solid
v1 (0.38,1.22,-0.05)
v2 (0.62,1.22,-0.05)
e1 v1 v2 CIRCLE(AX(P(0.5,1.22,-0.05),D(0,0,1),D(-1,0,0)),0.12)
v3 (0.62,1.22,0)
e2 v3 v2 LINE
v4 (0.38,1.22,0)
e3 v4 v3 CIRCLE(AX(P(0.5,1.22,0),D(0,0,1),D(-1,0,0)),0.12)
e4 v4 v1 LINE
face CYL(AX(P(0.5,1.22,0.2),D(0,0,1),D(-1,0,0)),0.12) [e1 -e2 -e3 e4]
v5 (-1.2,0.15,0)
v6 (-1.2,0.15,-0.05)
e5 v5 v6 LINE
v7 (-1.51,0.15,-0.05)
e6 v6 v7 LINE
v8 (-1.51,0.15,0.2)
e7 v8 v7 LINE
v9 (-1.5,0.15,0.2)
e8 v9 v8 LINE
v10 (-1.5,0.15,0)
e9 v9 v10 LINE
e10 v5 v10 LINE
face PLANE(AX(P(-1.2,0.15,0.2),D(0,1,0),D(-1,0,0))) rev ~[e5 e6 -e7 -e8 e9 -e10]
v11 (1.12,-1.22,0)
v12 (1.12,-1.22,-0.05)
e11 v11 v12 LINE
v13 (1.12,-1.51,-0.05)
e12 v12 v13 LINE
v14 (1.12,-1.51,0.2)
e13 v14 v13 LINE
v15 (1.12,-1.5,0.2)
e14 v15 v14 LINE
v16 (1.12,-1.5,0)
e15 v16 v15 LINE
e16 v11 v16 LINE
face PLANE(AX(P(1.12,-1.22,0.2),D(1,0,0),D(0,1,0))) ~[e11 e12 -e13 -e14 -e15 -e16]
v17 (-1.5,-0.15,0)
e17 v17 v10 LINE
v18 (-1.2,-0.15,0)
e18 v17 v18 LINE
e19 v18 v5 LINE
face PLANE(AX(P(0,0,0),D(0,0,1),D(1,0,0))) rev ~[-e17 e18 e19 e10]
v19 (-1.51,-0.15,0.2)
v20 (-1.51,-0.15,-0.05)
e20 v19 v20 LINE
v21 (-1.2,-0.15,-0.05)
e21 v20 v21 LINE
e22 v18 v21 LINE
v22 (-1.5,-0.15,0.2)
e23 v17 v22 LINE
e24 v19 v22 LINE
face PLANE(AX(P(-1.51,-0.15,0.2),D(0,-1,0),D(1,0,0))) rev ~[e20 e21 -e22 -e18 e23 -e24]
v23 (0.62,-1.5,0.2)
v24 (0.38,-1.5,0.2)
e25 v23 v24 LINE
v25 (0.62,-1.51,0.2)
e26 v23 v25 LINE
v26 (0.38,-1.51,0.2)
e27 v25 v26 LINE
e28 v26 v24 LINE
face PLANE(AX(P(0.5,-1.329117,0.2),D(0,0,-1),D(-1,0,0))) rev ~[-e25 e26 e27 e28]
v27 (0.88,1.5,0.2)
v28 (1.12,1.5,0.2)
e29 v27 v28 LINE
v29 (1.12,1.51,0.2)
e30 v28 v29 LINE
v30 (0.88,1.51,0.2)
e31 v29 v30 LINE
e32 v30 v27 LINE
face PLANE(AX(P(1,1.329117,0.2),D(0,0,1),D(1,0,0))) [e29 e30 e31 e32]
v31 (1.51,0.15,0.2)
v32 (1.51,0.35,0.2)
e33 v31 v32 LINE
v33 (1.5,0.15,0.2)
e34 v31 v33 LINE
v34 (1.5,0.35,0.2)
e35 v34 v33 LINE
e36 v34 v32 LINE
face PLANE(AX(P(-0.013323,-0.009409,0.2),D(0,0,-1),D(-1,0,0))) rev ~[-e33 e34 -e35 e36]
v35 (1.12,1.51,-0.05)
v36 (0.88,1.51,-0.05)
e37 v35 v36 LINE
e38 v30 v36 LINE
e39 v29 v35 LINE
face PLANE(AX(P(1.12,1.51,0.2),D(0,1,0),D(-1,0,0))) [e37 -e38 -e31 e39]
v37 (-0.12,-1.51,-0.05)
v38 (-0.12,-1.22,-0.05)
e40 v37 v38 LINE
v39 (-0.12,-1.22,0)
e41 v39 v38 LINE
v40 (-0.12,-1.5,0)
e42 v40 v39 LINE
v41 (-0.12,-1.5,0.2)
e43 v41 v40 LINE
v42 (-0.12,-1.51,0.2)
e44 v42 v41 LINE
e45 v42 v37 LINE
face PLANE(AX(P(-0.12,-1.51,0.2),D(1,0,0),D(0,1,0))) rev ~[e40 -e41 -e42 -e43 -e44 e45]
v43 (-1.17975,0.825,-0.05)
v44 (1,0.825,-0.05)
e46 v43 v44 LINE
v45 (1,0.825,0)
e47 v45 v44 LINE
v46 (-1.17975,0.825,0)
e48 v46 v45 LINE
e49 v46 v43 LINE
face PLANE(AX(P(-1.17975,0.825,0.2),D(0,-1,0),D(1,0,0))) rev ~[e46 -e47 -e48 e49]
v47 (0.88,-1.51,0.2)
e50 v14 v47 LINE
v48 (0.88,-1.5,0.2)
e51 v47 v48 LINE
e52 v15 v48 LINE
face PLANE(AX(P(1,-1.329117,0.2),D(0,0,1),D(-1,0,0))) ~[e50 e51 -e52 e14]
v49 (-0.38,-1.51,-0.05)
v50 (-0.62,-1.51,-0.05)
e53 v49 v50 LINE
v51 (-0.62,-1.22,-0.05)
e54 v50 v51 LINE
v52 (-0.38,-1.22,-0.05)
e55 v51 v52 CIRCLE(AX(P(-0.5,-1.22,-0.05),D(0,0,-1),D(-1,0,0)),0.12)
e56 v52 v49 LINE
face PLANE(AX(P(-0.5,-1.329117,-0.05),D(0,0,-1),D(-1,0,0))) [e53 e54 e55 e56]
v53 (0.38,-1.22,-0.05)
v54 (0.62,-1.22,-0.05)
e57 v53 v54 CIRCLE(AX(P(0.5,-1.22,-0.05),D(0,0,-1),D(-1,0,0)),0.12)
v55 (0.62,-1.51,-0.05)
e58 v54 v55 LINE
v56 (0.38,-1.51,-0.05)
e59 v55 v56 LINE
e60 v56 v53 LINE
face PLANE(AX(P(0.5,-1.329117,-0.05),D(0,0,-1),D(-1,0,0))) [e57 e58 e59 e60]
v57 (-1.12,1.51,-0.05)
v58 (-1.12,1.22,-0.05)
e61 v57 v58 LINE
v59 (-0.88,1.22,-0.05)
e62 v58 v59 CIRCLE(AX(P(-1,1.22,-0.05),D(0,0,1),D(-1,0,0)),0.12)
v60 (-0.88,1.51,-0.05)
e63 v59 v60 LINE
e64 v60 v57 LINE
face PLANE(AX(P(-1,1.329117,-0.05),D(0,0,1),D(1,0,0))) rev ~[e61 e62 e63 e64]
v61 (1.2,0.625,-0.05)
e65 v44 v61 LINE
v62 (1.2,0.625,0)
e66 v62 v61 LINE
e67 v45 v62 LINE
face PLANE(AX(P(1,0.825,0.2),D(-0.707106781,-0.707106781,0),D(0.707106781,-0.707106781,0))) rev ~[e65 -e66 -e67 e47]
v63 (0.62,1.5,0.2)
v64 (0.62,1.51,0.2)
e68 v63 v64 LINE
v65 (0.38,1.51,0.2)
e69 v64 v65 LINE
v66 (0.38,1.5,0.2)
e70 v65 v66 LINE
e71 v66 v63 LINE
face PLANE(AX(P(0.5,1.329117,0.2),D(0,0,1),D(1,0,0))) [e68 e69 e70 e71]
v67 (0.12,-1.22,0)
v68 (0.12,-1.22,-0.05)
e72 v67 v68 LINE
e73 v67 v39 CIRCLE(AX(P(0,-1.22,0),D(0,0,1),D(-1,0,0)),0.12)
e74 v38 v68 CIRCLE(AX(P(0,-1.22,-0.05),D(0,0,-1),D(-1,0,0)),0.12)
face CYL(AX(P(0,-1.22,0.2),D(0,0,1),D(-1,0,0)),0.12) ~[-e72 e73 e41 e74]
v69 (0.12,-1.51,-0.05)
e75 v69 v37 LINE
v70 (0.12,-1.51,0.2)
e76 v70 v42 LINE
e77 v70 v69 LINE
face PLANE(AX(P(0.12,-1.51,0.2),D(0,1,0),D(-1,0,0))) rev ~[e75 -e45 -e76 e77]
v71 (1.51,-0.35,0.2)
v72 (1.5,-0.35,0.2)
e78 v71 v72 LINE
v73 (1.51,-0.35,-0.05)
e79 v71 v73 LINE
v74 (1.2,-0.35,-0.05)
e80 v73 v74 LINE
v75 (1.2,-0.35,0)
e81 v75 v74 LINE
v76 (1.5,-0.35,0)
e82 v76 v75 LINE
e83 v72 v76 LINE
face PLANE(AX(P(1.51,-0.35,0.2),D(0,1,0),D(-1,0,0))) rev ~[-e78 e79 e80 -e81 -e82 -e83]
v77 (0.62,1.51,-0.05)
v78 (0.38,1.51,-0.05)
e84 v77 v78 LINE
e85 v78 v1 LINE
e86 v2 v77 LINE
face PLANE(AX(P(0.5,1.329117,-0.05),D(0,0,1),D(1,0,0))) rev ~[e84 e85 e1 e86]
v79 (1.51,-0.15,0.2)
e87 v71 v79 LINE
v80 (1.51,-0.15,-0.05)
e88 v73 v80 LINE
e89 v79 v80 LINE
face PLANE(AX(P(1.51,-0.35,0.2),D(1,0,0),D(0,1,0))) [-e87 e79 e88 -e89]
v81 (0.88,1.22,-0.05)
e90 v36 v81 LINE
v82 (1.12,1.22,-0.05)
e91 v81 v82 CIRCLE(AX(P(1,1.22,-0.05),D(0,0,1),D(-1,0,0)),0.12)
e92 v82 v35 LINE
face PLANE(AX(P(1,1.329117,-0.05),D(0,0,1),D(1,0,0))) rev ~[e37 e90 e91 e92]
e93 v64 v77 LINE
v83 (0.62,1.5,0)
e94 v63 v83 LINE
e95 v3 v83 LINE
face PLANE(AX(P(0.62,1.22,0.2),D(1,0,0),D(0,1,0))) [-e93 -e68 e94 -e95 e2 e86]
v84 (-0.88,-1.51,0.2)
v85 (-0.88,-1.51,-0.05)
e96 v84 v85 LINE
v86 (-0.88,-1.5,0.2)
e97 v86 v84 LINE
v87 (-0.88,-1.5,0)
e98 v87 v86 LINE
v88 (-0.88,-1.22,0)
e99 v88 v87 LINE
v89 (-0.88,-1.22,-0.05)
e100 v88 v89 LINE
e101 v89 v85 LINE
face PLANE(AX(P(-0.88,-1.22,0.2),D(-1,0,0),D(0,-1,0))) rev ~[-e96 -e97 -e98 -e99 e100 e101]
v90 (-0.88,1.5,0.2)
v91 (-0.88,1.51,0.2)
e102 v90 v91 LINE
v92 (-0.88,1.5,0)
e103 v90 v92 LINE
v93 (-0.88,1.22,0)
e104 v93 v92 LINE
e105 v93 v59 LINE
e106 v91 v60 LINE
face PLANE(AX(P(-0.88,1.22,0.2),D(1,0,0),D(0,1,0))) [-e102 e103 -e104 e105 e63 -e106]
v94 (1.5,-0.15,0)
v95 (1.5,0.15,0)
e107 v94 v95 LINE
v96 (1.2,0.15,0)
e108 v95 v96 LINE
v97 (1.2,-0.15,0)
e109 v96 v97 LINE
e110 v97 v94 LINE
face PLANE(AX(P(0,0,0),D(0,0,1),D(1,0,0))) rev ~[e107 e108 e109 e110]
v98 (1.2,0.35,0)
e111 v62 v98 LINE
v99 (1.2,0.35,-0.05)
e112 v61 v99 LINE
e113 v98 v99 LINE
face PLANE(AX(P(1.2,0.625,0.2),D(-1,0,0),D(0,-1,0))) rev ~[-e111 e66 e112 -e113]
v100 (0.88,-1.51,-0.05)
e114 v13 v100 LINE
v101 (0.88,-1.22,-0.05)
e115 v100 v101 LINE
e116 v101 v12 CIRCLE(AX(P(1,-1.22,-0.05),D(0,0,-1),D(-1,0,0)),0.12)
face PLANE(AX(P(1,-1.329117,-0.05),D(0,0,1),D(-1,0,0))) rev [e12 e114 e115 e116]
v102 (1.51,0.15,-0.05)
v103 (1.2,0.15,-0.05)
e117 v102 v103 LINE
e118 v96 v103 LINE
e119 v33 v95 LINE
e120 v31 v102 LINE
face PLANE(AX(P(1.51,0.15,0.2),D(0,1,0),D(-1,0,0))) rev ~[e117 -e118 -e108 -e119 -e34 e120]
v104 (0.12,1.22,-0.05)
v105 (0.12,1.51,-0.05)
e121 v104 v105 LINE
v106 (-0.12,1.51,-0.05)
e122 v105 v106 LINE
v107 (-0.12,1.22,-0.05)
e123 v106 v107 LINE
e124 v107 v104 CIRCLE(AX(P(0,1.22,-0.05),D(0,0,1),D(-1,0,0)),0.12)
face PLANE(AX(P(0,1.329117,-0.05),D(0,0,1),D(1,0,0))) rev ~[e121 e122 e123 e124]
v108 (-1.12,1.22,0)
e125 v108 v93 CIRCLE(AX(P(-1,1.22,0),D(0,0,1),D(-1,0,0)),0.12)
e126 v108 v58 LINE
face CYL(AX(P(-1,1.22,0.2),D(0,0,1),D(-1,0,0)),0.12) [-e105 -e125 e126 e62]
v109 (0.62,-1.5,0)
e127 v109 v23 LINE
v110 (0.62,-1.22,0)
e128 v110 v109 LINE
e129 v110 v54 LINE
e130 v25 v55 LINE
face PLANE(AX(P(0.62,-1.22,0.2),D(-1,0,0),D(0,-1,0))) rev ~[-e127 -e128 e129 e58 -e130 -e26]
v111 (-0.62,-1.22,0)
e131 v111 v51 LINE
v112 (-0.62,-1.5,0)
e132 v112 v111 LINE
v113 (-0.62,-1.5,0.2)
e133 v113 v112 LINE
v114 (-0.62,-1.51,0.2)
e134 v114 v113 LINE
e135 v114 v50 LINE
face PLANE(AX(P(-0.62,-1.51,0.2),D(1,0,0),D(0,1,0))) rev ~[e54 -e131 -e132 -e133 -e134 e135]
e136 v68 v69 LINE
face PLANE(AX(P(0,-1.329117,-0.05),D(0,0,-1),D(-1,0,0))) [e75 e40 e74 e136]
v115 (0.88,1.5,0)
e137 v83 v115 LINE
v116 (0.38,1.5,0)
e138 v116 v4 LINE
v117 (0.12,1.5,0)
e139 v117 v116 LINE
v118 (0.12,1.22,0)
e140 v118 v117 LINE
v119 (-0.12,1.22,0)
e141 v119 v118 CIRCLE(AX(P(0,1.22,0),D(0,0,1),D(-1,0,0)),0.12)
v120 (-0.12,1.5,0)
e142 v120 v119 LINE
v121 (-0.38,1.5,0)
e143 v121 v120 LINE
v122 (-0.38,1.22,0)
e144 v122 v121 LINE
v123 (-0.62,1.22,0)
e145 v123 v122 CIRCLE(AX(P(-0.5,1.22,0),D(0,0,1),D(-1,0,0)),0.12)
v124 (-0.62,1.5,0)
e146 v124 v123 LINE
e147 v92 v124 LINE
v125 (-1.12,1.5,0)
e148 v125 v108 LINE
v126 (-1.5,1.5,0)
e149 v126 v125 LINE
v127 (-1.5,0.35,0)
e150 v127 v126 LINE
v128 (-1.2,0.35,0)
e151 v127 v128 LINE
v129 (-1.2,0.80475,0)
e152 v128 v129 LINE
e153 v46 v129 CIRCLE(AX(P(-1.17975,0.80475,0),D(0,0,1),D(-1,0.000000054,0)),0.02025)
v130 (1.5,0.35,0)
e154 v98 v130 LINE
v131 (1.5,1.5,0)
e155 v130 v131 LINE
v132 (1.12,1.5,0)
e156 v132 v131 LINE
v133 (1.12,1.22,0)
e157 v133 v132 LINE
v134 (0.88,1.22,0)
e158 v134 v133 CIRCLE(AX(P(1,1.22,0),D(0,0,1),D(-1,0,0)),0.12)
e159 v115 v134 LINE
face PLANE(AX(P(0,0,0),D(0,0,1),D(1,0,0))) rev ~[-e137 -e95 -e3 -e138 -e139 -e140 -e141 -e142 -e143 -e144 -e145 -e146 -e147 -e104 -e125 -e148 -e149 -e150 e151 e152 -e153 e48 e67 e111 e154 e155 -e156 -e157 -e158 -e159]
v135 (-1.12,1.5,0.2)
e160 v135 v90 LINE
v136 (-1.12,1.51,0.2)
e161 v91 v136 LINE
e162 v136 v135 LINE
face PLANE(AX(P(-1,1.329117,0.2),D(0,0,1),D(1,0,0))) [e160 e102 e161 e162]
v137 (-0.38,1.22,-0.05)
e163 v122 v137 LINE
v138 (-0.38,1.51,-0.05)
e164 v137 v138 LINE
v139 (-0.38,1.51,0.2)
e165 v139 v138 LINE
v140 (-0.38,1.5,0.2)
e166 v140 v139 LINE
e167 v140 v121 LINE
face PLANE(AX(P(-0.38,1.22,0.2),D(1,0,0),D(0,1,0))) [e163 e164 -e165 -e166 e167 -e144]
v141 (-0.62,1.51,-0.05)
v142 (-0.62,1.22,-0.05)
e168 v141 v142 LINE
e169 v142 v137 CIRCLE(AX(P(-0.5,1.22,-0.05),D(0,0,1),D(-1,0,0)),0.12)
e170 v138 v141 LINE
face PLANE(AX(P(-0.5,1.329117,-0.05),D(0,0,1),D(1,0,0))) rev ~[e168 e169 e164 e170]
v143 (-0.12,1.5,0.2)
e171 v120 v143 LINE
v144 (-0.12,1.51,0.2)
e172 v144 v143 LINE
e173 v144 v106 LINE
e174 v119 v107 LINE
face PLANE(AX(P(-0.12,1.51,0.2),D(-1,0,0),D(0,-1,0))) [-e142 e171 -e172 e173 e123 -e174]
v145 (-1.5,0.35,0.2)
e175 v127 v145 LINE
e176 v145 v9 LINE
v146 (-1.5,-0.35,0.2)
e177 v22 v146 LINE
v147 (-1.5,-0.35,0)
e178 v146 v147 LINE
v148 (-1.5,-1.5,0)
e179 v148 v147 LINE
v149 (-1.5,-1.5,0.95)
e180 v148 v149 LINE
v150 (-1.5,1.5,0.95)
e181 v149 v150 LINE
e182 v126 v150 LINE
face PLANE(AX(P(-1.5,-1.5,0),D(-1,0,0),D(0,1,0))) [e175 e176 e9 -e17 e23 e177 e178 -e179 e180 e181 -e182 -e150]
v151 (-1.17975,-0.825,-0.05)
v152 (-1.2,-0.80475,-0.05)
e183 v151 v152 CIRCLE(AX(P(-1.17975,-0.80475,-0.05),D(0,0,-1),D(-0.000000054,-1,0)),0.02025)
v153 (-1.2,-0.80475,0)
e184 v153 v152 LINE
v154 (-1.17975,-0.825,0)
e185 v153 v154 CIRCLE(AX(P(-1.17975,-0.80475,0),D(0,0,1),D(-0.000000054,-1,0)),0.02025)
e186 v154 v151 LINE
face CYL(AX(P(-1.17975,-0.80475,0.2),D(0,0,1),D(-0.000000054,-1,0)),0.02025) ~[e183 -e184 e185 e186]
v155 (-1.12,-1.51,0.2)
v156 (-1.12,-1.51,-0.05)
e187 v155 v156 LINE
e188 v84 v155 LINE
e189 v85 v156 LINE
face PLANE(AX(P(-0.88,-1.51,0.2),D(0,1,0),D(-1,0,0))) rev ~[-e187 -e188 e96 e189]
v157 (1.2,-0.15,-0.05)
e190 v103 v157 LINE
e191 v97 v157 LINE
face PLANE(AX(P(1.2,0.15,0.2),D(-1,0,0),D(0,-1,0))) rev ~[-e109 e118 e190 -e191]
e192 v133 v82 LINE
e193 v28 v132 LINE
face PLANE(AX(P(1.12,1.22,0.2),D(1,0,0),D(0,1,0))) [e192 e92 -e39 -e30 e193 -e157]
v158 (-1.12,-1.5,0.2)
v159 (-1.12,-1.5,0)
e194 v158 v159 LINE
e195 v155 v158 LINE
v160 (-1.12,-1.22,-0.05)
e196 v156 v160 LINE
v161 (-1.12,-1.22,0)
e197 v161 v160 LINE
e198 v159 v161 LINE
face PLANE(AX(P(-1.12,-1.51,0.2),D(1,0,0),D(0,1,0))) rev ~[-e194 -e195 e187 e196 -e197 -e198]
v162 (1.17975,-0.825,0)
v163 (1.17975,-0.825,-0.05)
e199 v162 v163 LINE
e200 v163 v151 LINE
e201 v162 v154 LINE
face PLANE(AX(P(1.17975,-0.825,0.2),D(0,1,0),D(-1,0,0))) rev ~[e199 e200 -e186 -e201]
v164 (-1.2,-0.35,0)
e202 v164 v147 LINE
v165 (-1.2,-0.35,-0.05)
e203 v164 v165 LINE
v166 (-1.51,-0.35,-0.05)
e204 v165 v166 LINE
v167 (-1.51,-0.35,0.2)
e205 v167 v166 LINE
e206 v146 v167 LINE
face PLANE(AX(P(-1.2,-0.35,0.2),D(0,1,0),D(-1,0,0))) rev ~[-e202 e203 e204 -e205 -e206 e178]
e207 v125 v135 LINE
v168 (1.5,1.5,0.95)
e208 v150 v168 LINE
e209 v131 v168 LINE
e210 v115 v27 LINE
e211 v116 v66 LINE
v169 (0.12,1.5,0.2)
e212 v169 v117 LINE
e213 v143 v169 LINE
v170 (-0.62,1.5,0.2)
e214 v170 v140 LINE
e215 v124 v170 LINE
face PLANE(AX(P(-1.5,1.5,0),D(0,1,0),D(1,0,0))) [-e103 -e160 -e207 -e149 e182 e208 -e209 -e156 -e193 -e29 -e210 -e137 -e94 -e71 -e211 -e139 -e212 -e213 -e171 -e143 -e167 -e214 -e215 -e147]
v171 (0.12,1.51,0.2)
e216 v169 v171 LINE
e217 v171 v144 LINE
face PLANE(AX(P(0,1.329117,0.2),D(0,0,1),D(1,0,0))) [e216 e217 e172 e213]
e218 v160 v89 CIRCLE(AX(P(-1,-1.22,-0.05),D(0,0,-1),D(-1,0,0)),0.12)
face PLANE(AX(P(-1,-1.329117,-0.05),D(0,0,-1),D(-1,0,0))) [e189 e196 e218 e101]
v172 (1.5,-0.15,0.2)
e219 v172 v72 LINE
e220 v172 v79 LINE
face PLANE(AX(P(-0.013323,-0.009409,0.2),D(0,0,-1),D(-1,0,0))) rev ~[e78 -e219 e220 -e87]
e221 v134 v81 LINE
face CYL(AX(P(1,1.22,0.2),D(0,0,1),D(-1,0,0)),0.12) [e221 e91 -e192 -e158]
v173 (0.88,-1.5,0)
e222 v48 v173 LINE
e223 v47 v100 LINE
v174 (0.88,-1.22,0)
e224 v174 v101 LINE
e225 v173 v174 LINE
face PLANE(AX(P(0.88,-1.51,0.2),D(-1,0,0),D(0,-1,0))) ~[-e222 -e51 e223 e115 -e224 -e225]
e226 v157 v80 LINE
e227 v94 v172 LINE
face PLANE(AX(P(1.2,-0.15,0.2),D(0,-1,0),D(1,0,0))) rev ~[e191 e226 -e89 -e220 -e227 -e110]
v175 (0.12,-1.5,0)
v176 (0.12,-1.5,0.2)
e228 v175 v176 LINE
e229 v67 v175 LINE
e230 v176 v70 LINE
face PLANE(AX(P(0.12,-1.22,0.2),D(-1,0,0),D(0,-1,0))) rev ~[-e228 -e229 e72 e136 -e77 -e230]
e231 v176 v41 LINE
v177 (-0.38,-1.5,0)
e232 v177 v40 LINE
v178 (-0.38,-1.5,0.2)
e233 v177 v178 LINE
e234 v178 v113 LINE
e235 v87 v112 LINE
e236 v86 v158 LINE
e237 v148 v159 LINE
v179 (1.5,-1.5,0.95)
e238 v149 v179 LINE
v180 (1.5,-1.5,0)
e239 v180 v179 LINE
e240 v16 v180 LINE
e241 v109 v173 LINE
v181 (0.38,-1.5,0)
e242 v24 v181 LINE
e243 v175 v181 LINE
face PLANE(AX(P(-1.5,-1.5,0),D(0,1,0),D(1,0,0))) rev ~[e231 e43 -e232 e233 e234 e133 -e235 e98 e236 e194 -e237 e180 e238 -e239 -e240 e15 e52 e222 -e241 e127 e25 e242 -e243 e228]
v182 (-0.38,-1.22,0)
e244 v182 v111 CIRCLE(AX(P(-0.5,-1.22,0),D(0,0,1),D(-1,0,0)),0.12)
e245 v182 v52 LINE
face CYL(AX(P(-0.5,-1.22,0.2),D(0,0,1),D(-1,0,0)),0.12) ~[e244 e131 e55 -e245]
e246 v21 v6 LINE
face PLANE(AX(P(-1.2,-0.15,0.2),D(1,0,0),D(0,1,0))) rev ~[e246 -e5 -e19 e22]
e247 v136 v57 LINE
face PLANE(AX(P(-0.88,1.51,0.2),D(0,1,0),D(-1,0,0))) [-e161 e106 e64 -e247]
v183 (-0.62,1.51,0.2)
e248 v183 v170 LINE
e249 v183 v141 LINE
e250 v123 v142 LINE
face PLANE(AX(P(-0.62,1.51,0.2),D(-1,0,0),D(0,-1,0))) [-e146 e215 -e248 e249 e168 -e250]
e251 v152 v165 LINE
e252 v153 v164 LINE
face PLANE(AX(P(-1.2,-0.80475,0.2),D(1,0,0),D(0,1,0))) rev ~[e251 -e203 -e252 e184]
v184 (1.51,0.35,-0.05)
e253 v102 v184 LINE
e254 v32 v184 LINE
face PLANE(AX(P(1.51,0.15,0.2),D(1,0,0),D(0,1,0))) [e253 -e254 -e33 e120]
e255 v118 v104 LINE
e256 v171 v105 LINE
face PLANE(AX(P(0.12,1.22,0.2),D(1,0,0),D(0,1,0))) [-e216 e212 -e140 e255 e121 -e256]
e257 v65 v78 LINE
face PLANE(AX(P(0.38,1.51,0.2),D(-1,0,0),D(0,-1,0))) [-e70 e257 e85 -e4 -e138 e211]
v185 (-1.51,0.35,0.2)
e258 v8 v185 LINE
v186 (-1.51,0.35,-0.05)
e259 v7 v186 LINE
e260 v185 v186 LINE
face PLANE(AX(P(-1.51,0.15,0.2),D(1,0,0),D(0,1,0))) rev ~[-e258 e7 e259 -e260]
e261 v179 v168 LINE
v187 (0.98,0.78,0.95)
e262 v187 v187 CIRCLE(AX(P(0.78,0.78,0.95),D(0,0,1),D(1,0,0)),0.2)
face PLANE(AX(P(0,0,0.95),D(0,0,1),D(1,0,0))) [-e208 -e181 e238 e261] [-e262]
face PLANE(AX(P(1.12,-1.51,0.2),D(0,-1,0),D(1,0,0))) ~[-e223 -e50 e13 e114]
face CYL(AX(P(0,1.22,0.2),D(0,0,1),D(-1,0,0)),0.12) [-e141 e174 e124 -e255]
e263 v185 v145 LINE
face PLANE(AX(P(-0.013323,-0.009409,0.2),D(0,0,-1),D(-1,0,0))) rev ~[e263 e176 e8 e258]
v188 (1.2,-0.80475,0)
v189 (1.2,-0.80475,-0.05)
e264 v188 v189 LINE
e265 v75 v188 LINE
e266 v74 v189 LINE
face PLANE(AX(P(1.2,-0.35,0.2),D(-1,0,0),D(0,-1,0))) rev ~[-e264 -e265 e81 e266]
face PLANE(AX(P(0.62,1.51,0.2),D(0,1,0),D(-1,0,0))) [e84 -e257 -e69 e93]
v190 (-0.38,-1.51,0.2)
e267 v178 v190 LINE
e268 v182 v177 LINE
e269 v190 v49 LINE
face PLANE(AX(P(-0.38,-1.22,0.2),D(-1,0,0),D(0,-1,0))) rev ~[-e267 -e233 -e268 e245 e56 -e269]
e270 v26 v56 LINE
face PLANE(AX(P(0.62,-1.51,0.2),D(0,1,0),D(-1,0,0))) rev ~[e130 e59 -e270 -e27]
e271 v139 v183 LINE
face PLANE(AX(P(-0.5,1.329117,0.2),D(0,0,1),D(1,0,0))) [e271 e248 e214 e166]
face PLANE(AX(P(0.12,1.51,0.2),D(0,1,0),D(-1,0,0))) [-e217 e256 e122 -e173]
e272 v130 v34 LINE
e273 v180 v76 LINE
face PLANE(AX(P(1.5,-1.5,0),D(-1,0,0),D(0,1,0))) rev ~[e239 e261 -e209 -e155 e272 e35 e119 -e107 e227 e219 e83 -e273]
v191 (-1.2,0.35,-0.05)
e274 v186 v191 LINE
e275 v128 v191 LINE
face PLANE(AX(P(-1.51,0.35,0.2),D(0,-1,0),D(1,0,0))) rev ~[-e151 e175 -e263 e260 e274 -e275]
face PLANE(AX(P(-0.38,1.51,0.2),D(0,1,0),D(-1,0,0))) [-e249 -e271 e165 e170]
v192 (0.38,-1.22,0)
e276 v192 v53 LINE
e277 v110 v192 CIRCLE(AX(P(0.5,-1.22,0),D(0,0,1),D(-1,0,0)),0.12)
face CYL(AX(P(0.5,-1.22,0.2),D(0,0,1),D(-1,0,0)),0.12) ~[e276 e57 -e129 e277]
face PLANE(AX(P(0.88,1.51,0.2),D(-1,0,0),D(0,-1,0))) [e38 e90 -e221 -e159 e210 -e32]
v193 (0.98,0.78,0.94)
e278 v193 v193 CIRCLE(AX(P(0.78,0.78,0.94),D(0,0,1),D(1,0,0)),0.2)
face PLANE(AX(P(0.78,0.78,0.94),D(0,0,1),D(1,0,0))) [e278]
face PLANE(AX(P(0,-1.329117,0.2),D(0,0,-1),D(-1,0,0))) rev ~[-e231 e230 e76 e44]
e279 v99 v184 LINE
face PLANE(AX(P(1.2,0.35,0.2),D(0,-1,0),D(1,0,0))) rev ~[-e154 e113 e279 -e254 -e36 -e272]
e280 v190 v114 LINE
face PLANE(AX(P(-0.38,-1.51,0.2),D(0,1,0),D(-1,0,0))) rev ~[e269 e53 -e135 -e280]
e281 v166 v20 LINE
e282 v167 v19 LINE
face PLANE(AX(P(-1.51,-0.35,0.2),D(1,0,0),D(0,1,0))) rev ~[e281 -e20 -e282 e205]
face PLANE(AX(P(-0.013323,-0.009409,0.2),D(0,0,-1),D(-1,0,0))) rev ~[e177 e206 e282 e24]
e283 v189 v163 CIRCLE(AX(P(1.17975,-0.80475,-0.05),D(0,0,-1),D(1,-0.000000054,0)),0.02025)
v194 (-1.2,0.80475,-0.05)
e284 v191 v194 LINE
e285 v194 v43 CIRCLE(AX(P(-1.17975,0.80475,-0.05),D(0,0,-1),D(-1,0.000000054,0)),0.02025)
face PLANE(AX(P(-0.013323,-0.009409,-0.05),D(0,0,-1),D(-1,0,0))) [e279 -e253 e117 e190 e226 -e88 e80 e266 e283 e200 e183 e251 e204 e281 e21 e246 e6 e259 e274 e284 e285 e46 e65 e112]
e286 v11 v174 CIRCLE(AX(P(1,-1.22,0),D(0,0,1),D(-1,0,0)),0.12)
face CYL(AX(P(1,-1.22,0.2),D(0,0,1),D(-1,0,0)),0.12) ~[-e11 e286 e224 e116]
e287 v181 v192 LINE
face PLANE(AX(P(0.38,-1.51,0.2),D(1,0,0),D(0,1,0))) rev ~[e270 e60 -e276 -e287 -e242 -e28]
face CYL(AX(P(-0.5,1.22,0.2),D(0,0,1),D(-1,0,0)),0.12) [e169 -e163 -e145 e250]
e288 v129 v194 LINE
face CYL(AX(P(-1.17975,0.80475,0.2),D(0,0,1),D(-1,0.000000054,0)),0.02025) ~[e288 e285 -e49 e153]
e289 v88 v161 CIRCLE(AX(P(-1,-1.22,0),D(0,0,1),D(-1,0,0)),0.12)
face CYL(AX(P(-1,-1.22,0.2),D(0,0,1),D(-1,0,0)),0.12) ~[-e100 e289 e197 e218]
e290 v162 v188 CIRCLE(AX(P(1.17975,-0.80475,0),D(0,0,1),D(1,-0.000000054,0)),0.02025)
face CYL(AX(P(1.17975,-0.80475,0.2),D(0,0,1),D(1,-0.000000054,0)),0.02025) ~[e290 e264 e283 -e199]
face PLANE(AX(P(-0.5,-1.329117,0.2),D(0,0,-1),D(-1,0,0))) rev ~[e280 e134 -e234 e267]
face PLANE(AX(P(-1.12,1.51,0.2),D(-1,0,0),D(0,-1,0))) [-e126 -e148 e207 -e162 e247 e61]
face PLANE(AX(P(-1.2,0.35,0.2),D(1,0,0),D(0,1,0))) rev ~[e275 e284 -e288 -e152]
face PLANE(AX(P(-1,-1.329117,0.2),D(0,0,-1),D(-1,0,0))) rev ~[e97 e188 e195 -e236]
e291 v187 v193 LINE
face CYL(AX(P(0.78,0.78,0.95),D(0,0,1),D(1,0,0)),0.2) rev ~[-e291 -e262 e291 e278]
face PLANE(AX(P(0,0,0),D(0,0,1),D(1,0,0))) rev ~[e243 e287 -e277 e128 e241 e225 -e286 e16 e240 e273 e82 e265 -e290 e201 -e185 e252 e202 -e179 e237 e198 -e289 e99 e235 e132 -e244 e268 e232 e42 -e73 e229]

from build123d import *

# Parameters (mm, degrees)
SKETCH1_W                = 3
SKETCH1_H                = 3
BOSS_EXTRUDE1_DEPTH      = 0.95
SKETCH2_R                = 0.2
CUT_EXTRUDE1_DEPTH       = 0.01
BOSS_EXTRUDE2_DEPTH      = 0.05
BOSS_EXTRUDE2_DEPTH_BACK = 0.2
SKETCH3_W                = 0.01
SKETCH3_H                = 0.2
BOSS_EXTRUDE4_START      = -0.2
BOSS_EXTRUDE4_DEPTH      = 0.25
LPATTERN2_COUNT          = 5
LPATTERN2_PITCH          = 0.5
MIRROR2_START            = -0.2
MIRROR2_COPY_1_DEPTH     = 0.25
MIRROR2_COPY_2_DEPTH     = 0.25
MIRROR2_COPY_3_DEPTH     = 0.25
MIRROR2_COPY_4_DEPTH     = 0.25


with BuildPart() as part:
    # Sketch1 → Boss-Extrude1 (new body)
    with BuildSketch(Plane.XY):
        Rectangle(SKETCH1_W, SKETCH1_H)
    extrude(amount=BOSS_EXTRUDE1_DEPTH)

    # Sketch2 → Cut-Extrude1 (cut)
    with BuildSketch(Plane.XY.offset(0.95)):
        with Locations((0.78, 0.78)):
            Circle(SKETCH2_R)
    extrude(amount=-CUT_EXTRUDE1_DEPTH, mode=Mode.SUBTRACT)

    # Sketch3 → Boss-Extrude2 (add, two sides: drawn at the far end of the back side and taken through both)
    with BuildSketch(Plane(origin=(0, 0, 0), x_dir=(-1, 0, 0), z_dir=(0, 0, -1)).offset(-BOSS_EXTRUDE2_DEPTH_BACK)):
        with BuildLine():
            Line((1.5, 0.35), (1.2, 0.35))
            Line((1.2, 0.35), (1.2, 0.80475))
            ThreePointArc((1.2, 0.80475), (1.194068912, 0.819068912), (1.17975, 0.825))
            Line((1.17975, 0.825), (-1, 0.825))
            Line((-1, 0.825), (-1.2, 0.625))
            Line((-1.2, 0.625), (-1.2, 0.35))
            Line((-1.2, 0.35), (-1.5, 0.35))
            Line((-1.5, 0.35), (-1.5, 0.15))
            Line((-1.5, 0.15), (-1.2, 0.15))
            Line((-1.2, 0.15), (-1.2, -0.15))
            Line((-1.2, -0.15), (-1.5, -0.15))
            Line((-1.5, -0.15), (-1.5, -0.35))
            Line((-1.5, -0.35), (-1.2, -0.35))
            Line((-1.2, -0.35), (-1.2, -0.80475))
            ThreePointArc((-1.2, -0.80475), (-1.194068912, -0.819068912), (-1.17975, -0.825))
            Line((-1.17975, -0.825), (1.17975, -0.825))
            ThreePointArc((1.17975, -0.825), (1.194068912, -0.819068912), (1.2, -0.80475))
            Line((1.2, -0.80475), (1.2, -0.35))
            Line((1.2, -0.35), (1.5, -0.35))
            Line((1.5, -0.35), (1.5, -0.15))
            Line((1.5, -0.15), (1.2, -0.15))
            Line((1.2, -0.15), (1.2, 0.15))
            Line((1.2, 0.15), (1.5, 0.15))
            Line((1.5, 0.15), (1.5, 0.35))
        make_face()
        with Locations((1.505, 0.25)):
            Rectangle(SKETCH3_W, SKETCH3_H)
        with Locations((1.505, -0.25)):
            Rectangle(SKETCH3_W, SKETCH3_H)
        with Locations((-1.505, -0.25)):
            Rectangle(SKETCH3_W, SKETCH3_H)
        with Locations((-1.505, 0.25)):
            Rectangle(SKETCH3_W, SKETCH3_H)
    extrude(amount=BOSS_EXTRUDE2_DEPTH + BOSS_EXTRUDE2_DEPTH_BACK)

    # Sketch6 → Boss-Extrude4 (add)
    with BuildSketch(Plane(origin=(0, 0, 0), x_dir=(-1, 0, 0), z_dir=(0, 0, -1)).offset(BOSS_EXTRUDE4_START)):
        with BuildLine():
            Line((-1.12, 1.51), (-0.88, 1.51))
            Line((-0.88, 1.51), (-0.88, 1.5))
            Line((-0.88, 1.5), (-0.88, 1.22))
            ThreePointArc((-0.88, 1.22), (-1, 1.1), (-1.12, 1.22))
            Line((-1.12, 1.22), (-1.12, 1.5))
            Line((-1.12, 1.5), (-1.12, 1.51))
        make_face()
    boss_extrude4 = extrude(amount=BOSS_EXTRUDE4_DEPTH)

    # LPattern2: Boss-Extrude4 ×5
    with Locations(*[(-i * LPATTERN2_PITCH, 0, 0) for i in range(1, LPATTERN2_COUNT)]):
        add(boss_extrude4)

    # Mirror2: Boss-Extrude4 across plane
    add(boss_extrude4.mirror(Plane.ZX))

    # Mirror2 copy 1 sketch → Mirror2 copy 1 (add)
    with BuildSketch(Plane(origin=(-0.5, 0, 0), x_dir=(-1, 0, 0), z_dir=(0, 0, -1)).offset(MIRROR2_START)):
        with BuildLine():
            Line((-1.12, -1.51), (-0.88, -1.51))
            Line((-0.88, -1.51), (-0.88, -1.5))
            Line((-0.88, -1.5), (-0.88, -1.22))
            ThreePointArc((-0.88, -1.22), (-1, -1.1), (-1.12, -1.22))
            Line((-1.12, -1.22), (-1.12, -1.5))
            Line((-1.12, -1.5), (-1.12, -1.51))
        make_face()
    extrude(amount=MIRROR2_COPY_1_DEPTH)

    # Mirror2 copy 2 sketch → Mirror2 copy 2 (add)
    with BuildSketch(Plane(origin=(-1, 0, 0), x_dir=(-1, 0, 0), z_dir=(0, 0, -1)).offset(MIRROR2_START)):
        with BuildLine():
            Line((-1.12, -1.51), (-0.88, -1.51))
            Line((-0.88, -1.51), (-0.88, -1.5))
            Line((-0.88, -1.5), (-0.88, -1.22))
            ThreePointArc((-0.88, -1.22), (-1, -1.1), (-1.12, -1.22))
            Line((-1.12, -1.22), (-1.12, -1.5))
            Line((-1.12, -1.5), (-1.12, -1.51))
        make_face()
    extrude(amount=MIRROR2_COPY_2_DEPTH)

    # Mirror2 copy 3 sketch → Mirror2 copy 3 (add)
    with BuildSketch(Plane(origin=(-1.5, 0, 0), x_dir=(-1, 0, 0), z_dir=(0, 0, -1)).offset(MIRROR2_START)):
        with BuildLine():
            Line((-1.12, -1.51), (-0.88, -1.51))
            Line((-0.88, -1.51), (-0.88, -1.5))
            Line((-0.88, -1.5), (-0.88, -1.22))
            ThreePointArc((-0.88, -1.22), (-1, -1.1), (-1.12, -1.22))
            Line((-1.12, -1.22), (-1.12, -1.5))
            Line((-1.12, -1.5), (-1.12, -1.51))
        make_face()
    extrude(amount=MIRROR2_COPY_3_DEPTH)

    # Mirror2 copy 4 sketch → Mirror2 copy 4 (add)
    with BuildSketch(Plane(origin=(-2, 0, 0), x_dir=(-1, 0, 0), z_dir=(0, 0, -1)).offset(MIRROR2_START)):
        with BuildLine():
            Line((-1.12, -1.51), (-0.88, -1.51))
            Line((-0.88, -1.51), (-0.88, -1.5))
            Line((-0.88, -1.5), (-0.88, -1.22))
            ThreePointArc((-0.88, -1.22), (-1, -1.1), (-1.12, -1.22))
            Line((-1.12, -1.22), (-1.12, -1.5))
            Line((-1.12, -1.5), (-1.12, -1.51))
        make_face()
    extrude(amount=MIRROR2_COPY_4_DEPTH)


solid = part.part
